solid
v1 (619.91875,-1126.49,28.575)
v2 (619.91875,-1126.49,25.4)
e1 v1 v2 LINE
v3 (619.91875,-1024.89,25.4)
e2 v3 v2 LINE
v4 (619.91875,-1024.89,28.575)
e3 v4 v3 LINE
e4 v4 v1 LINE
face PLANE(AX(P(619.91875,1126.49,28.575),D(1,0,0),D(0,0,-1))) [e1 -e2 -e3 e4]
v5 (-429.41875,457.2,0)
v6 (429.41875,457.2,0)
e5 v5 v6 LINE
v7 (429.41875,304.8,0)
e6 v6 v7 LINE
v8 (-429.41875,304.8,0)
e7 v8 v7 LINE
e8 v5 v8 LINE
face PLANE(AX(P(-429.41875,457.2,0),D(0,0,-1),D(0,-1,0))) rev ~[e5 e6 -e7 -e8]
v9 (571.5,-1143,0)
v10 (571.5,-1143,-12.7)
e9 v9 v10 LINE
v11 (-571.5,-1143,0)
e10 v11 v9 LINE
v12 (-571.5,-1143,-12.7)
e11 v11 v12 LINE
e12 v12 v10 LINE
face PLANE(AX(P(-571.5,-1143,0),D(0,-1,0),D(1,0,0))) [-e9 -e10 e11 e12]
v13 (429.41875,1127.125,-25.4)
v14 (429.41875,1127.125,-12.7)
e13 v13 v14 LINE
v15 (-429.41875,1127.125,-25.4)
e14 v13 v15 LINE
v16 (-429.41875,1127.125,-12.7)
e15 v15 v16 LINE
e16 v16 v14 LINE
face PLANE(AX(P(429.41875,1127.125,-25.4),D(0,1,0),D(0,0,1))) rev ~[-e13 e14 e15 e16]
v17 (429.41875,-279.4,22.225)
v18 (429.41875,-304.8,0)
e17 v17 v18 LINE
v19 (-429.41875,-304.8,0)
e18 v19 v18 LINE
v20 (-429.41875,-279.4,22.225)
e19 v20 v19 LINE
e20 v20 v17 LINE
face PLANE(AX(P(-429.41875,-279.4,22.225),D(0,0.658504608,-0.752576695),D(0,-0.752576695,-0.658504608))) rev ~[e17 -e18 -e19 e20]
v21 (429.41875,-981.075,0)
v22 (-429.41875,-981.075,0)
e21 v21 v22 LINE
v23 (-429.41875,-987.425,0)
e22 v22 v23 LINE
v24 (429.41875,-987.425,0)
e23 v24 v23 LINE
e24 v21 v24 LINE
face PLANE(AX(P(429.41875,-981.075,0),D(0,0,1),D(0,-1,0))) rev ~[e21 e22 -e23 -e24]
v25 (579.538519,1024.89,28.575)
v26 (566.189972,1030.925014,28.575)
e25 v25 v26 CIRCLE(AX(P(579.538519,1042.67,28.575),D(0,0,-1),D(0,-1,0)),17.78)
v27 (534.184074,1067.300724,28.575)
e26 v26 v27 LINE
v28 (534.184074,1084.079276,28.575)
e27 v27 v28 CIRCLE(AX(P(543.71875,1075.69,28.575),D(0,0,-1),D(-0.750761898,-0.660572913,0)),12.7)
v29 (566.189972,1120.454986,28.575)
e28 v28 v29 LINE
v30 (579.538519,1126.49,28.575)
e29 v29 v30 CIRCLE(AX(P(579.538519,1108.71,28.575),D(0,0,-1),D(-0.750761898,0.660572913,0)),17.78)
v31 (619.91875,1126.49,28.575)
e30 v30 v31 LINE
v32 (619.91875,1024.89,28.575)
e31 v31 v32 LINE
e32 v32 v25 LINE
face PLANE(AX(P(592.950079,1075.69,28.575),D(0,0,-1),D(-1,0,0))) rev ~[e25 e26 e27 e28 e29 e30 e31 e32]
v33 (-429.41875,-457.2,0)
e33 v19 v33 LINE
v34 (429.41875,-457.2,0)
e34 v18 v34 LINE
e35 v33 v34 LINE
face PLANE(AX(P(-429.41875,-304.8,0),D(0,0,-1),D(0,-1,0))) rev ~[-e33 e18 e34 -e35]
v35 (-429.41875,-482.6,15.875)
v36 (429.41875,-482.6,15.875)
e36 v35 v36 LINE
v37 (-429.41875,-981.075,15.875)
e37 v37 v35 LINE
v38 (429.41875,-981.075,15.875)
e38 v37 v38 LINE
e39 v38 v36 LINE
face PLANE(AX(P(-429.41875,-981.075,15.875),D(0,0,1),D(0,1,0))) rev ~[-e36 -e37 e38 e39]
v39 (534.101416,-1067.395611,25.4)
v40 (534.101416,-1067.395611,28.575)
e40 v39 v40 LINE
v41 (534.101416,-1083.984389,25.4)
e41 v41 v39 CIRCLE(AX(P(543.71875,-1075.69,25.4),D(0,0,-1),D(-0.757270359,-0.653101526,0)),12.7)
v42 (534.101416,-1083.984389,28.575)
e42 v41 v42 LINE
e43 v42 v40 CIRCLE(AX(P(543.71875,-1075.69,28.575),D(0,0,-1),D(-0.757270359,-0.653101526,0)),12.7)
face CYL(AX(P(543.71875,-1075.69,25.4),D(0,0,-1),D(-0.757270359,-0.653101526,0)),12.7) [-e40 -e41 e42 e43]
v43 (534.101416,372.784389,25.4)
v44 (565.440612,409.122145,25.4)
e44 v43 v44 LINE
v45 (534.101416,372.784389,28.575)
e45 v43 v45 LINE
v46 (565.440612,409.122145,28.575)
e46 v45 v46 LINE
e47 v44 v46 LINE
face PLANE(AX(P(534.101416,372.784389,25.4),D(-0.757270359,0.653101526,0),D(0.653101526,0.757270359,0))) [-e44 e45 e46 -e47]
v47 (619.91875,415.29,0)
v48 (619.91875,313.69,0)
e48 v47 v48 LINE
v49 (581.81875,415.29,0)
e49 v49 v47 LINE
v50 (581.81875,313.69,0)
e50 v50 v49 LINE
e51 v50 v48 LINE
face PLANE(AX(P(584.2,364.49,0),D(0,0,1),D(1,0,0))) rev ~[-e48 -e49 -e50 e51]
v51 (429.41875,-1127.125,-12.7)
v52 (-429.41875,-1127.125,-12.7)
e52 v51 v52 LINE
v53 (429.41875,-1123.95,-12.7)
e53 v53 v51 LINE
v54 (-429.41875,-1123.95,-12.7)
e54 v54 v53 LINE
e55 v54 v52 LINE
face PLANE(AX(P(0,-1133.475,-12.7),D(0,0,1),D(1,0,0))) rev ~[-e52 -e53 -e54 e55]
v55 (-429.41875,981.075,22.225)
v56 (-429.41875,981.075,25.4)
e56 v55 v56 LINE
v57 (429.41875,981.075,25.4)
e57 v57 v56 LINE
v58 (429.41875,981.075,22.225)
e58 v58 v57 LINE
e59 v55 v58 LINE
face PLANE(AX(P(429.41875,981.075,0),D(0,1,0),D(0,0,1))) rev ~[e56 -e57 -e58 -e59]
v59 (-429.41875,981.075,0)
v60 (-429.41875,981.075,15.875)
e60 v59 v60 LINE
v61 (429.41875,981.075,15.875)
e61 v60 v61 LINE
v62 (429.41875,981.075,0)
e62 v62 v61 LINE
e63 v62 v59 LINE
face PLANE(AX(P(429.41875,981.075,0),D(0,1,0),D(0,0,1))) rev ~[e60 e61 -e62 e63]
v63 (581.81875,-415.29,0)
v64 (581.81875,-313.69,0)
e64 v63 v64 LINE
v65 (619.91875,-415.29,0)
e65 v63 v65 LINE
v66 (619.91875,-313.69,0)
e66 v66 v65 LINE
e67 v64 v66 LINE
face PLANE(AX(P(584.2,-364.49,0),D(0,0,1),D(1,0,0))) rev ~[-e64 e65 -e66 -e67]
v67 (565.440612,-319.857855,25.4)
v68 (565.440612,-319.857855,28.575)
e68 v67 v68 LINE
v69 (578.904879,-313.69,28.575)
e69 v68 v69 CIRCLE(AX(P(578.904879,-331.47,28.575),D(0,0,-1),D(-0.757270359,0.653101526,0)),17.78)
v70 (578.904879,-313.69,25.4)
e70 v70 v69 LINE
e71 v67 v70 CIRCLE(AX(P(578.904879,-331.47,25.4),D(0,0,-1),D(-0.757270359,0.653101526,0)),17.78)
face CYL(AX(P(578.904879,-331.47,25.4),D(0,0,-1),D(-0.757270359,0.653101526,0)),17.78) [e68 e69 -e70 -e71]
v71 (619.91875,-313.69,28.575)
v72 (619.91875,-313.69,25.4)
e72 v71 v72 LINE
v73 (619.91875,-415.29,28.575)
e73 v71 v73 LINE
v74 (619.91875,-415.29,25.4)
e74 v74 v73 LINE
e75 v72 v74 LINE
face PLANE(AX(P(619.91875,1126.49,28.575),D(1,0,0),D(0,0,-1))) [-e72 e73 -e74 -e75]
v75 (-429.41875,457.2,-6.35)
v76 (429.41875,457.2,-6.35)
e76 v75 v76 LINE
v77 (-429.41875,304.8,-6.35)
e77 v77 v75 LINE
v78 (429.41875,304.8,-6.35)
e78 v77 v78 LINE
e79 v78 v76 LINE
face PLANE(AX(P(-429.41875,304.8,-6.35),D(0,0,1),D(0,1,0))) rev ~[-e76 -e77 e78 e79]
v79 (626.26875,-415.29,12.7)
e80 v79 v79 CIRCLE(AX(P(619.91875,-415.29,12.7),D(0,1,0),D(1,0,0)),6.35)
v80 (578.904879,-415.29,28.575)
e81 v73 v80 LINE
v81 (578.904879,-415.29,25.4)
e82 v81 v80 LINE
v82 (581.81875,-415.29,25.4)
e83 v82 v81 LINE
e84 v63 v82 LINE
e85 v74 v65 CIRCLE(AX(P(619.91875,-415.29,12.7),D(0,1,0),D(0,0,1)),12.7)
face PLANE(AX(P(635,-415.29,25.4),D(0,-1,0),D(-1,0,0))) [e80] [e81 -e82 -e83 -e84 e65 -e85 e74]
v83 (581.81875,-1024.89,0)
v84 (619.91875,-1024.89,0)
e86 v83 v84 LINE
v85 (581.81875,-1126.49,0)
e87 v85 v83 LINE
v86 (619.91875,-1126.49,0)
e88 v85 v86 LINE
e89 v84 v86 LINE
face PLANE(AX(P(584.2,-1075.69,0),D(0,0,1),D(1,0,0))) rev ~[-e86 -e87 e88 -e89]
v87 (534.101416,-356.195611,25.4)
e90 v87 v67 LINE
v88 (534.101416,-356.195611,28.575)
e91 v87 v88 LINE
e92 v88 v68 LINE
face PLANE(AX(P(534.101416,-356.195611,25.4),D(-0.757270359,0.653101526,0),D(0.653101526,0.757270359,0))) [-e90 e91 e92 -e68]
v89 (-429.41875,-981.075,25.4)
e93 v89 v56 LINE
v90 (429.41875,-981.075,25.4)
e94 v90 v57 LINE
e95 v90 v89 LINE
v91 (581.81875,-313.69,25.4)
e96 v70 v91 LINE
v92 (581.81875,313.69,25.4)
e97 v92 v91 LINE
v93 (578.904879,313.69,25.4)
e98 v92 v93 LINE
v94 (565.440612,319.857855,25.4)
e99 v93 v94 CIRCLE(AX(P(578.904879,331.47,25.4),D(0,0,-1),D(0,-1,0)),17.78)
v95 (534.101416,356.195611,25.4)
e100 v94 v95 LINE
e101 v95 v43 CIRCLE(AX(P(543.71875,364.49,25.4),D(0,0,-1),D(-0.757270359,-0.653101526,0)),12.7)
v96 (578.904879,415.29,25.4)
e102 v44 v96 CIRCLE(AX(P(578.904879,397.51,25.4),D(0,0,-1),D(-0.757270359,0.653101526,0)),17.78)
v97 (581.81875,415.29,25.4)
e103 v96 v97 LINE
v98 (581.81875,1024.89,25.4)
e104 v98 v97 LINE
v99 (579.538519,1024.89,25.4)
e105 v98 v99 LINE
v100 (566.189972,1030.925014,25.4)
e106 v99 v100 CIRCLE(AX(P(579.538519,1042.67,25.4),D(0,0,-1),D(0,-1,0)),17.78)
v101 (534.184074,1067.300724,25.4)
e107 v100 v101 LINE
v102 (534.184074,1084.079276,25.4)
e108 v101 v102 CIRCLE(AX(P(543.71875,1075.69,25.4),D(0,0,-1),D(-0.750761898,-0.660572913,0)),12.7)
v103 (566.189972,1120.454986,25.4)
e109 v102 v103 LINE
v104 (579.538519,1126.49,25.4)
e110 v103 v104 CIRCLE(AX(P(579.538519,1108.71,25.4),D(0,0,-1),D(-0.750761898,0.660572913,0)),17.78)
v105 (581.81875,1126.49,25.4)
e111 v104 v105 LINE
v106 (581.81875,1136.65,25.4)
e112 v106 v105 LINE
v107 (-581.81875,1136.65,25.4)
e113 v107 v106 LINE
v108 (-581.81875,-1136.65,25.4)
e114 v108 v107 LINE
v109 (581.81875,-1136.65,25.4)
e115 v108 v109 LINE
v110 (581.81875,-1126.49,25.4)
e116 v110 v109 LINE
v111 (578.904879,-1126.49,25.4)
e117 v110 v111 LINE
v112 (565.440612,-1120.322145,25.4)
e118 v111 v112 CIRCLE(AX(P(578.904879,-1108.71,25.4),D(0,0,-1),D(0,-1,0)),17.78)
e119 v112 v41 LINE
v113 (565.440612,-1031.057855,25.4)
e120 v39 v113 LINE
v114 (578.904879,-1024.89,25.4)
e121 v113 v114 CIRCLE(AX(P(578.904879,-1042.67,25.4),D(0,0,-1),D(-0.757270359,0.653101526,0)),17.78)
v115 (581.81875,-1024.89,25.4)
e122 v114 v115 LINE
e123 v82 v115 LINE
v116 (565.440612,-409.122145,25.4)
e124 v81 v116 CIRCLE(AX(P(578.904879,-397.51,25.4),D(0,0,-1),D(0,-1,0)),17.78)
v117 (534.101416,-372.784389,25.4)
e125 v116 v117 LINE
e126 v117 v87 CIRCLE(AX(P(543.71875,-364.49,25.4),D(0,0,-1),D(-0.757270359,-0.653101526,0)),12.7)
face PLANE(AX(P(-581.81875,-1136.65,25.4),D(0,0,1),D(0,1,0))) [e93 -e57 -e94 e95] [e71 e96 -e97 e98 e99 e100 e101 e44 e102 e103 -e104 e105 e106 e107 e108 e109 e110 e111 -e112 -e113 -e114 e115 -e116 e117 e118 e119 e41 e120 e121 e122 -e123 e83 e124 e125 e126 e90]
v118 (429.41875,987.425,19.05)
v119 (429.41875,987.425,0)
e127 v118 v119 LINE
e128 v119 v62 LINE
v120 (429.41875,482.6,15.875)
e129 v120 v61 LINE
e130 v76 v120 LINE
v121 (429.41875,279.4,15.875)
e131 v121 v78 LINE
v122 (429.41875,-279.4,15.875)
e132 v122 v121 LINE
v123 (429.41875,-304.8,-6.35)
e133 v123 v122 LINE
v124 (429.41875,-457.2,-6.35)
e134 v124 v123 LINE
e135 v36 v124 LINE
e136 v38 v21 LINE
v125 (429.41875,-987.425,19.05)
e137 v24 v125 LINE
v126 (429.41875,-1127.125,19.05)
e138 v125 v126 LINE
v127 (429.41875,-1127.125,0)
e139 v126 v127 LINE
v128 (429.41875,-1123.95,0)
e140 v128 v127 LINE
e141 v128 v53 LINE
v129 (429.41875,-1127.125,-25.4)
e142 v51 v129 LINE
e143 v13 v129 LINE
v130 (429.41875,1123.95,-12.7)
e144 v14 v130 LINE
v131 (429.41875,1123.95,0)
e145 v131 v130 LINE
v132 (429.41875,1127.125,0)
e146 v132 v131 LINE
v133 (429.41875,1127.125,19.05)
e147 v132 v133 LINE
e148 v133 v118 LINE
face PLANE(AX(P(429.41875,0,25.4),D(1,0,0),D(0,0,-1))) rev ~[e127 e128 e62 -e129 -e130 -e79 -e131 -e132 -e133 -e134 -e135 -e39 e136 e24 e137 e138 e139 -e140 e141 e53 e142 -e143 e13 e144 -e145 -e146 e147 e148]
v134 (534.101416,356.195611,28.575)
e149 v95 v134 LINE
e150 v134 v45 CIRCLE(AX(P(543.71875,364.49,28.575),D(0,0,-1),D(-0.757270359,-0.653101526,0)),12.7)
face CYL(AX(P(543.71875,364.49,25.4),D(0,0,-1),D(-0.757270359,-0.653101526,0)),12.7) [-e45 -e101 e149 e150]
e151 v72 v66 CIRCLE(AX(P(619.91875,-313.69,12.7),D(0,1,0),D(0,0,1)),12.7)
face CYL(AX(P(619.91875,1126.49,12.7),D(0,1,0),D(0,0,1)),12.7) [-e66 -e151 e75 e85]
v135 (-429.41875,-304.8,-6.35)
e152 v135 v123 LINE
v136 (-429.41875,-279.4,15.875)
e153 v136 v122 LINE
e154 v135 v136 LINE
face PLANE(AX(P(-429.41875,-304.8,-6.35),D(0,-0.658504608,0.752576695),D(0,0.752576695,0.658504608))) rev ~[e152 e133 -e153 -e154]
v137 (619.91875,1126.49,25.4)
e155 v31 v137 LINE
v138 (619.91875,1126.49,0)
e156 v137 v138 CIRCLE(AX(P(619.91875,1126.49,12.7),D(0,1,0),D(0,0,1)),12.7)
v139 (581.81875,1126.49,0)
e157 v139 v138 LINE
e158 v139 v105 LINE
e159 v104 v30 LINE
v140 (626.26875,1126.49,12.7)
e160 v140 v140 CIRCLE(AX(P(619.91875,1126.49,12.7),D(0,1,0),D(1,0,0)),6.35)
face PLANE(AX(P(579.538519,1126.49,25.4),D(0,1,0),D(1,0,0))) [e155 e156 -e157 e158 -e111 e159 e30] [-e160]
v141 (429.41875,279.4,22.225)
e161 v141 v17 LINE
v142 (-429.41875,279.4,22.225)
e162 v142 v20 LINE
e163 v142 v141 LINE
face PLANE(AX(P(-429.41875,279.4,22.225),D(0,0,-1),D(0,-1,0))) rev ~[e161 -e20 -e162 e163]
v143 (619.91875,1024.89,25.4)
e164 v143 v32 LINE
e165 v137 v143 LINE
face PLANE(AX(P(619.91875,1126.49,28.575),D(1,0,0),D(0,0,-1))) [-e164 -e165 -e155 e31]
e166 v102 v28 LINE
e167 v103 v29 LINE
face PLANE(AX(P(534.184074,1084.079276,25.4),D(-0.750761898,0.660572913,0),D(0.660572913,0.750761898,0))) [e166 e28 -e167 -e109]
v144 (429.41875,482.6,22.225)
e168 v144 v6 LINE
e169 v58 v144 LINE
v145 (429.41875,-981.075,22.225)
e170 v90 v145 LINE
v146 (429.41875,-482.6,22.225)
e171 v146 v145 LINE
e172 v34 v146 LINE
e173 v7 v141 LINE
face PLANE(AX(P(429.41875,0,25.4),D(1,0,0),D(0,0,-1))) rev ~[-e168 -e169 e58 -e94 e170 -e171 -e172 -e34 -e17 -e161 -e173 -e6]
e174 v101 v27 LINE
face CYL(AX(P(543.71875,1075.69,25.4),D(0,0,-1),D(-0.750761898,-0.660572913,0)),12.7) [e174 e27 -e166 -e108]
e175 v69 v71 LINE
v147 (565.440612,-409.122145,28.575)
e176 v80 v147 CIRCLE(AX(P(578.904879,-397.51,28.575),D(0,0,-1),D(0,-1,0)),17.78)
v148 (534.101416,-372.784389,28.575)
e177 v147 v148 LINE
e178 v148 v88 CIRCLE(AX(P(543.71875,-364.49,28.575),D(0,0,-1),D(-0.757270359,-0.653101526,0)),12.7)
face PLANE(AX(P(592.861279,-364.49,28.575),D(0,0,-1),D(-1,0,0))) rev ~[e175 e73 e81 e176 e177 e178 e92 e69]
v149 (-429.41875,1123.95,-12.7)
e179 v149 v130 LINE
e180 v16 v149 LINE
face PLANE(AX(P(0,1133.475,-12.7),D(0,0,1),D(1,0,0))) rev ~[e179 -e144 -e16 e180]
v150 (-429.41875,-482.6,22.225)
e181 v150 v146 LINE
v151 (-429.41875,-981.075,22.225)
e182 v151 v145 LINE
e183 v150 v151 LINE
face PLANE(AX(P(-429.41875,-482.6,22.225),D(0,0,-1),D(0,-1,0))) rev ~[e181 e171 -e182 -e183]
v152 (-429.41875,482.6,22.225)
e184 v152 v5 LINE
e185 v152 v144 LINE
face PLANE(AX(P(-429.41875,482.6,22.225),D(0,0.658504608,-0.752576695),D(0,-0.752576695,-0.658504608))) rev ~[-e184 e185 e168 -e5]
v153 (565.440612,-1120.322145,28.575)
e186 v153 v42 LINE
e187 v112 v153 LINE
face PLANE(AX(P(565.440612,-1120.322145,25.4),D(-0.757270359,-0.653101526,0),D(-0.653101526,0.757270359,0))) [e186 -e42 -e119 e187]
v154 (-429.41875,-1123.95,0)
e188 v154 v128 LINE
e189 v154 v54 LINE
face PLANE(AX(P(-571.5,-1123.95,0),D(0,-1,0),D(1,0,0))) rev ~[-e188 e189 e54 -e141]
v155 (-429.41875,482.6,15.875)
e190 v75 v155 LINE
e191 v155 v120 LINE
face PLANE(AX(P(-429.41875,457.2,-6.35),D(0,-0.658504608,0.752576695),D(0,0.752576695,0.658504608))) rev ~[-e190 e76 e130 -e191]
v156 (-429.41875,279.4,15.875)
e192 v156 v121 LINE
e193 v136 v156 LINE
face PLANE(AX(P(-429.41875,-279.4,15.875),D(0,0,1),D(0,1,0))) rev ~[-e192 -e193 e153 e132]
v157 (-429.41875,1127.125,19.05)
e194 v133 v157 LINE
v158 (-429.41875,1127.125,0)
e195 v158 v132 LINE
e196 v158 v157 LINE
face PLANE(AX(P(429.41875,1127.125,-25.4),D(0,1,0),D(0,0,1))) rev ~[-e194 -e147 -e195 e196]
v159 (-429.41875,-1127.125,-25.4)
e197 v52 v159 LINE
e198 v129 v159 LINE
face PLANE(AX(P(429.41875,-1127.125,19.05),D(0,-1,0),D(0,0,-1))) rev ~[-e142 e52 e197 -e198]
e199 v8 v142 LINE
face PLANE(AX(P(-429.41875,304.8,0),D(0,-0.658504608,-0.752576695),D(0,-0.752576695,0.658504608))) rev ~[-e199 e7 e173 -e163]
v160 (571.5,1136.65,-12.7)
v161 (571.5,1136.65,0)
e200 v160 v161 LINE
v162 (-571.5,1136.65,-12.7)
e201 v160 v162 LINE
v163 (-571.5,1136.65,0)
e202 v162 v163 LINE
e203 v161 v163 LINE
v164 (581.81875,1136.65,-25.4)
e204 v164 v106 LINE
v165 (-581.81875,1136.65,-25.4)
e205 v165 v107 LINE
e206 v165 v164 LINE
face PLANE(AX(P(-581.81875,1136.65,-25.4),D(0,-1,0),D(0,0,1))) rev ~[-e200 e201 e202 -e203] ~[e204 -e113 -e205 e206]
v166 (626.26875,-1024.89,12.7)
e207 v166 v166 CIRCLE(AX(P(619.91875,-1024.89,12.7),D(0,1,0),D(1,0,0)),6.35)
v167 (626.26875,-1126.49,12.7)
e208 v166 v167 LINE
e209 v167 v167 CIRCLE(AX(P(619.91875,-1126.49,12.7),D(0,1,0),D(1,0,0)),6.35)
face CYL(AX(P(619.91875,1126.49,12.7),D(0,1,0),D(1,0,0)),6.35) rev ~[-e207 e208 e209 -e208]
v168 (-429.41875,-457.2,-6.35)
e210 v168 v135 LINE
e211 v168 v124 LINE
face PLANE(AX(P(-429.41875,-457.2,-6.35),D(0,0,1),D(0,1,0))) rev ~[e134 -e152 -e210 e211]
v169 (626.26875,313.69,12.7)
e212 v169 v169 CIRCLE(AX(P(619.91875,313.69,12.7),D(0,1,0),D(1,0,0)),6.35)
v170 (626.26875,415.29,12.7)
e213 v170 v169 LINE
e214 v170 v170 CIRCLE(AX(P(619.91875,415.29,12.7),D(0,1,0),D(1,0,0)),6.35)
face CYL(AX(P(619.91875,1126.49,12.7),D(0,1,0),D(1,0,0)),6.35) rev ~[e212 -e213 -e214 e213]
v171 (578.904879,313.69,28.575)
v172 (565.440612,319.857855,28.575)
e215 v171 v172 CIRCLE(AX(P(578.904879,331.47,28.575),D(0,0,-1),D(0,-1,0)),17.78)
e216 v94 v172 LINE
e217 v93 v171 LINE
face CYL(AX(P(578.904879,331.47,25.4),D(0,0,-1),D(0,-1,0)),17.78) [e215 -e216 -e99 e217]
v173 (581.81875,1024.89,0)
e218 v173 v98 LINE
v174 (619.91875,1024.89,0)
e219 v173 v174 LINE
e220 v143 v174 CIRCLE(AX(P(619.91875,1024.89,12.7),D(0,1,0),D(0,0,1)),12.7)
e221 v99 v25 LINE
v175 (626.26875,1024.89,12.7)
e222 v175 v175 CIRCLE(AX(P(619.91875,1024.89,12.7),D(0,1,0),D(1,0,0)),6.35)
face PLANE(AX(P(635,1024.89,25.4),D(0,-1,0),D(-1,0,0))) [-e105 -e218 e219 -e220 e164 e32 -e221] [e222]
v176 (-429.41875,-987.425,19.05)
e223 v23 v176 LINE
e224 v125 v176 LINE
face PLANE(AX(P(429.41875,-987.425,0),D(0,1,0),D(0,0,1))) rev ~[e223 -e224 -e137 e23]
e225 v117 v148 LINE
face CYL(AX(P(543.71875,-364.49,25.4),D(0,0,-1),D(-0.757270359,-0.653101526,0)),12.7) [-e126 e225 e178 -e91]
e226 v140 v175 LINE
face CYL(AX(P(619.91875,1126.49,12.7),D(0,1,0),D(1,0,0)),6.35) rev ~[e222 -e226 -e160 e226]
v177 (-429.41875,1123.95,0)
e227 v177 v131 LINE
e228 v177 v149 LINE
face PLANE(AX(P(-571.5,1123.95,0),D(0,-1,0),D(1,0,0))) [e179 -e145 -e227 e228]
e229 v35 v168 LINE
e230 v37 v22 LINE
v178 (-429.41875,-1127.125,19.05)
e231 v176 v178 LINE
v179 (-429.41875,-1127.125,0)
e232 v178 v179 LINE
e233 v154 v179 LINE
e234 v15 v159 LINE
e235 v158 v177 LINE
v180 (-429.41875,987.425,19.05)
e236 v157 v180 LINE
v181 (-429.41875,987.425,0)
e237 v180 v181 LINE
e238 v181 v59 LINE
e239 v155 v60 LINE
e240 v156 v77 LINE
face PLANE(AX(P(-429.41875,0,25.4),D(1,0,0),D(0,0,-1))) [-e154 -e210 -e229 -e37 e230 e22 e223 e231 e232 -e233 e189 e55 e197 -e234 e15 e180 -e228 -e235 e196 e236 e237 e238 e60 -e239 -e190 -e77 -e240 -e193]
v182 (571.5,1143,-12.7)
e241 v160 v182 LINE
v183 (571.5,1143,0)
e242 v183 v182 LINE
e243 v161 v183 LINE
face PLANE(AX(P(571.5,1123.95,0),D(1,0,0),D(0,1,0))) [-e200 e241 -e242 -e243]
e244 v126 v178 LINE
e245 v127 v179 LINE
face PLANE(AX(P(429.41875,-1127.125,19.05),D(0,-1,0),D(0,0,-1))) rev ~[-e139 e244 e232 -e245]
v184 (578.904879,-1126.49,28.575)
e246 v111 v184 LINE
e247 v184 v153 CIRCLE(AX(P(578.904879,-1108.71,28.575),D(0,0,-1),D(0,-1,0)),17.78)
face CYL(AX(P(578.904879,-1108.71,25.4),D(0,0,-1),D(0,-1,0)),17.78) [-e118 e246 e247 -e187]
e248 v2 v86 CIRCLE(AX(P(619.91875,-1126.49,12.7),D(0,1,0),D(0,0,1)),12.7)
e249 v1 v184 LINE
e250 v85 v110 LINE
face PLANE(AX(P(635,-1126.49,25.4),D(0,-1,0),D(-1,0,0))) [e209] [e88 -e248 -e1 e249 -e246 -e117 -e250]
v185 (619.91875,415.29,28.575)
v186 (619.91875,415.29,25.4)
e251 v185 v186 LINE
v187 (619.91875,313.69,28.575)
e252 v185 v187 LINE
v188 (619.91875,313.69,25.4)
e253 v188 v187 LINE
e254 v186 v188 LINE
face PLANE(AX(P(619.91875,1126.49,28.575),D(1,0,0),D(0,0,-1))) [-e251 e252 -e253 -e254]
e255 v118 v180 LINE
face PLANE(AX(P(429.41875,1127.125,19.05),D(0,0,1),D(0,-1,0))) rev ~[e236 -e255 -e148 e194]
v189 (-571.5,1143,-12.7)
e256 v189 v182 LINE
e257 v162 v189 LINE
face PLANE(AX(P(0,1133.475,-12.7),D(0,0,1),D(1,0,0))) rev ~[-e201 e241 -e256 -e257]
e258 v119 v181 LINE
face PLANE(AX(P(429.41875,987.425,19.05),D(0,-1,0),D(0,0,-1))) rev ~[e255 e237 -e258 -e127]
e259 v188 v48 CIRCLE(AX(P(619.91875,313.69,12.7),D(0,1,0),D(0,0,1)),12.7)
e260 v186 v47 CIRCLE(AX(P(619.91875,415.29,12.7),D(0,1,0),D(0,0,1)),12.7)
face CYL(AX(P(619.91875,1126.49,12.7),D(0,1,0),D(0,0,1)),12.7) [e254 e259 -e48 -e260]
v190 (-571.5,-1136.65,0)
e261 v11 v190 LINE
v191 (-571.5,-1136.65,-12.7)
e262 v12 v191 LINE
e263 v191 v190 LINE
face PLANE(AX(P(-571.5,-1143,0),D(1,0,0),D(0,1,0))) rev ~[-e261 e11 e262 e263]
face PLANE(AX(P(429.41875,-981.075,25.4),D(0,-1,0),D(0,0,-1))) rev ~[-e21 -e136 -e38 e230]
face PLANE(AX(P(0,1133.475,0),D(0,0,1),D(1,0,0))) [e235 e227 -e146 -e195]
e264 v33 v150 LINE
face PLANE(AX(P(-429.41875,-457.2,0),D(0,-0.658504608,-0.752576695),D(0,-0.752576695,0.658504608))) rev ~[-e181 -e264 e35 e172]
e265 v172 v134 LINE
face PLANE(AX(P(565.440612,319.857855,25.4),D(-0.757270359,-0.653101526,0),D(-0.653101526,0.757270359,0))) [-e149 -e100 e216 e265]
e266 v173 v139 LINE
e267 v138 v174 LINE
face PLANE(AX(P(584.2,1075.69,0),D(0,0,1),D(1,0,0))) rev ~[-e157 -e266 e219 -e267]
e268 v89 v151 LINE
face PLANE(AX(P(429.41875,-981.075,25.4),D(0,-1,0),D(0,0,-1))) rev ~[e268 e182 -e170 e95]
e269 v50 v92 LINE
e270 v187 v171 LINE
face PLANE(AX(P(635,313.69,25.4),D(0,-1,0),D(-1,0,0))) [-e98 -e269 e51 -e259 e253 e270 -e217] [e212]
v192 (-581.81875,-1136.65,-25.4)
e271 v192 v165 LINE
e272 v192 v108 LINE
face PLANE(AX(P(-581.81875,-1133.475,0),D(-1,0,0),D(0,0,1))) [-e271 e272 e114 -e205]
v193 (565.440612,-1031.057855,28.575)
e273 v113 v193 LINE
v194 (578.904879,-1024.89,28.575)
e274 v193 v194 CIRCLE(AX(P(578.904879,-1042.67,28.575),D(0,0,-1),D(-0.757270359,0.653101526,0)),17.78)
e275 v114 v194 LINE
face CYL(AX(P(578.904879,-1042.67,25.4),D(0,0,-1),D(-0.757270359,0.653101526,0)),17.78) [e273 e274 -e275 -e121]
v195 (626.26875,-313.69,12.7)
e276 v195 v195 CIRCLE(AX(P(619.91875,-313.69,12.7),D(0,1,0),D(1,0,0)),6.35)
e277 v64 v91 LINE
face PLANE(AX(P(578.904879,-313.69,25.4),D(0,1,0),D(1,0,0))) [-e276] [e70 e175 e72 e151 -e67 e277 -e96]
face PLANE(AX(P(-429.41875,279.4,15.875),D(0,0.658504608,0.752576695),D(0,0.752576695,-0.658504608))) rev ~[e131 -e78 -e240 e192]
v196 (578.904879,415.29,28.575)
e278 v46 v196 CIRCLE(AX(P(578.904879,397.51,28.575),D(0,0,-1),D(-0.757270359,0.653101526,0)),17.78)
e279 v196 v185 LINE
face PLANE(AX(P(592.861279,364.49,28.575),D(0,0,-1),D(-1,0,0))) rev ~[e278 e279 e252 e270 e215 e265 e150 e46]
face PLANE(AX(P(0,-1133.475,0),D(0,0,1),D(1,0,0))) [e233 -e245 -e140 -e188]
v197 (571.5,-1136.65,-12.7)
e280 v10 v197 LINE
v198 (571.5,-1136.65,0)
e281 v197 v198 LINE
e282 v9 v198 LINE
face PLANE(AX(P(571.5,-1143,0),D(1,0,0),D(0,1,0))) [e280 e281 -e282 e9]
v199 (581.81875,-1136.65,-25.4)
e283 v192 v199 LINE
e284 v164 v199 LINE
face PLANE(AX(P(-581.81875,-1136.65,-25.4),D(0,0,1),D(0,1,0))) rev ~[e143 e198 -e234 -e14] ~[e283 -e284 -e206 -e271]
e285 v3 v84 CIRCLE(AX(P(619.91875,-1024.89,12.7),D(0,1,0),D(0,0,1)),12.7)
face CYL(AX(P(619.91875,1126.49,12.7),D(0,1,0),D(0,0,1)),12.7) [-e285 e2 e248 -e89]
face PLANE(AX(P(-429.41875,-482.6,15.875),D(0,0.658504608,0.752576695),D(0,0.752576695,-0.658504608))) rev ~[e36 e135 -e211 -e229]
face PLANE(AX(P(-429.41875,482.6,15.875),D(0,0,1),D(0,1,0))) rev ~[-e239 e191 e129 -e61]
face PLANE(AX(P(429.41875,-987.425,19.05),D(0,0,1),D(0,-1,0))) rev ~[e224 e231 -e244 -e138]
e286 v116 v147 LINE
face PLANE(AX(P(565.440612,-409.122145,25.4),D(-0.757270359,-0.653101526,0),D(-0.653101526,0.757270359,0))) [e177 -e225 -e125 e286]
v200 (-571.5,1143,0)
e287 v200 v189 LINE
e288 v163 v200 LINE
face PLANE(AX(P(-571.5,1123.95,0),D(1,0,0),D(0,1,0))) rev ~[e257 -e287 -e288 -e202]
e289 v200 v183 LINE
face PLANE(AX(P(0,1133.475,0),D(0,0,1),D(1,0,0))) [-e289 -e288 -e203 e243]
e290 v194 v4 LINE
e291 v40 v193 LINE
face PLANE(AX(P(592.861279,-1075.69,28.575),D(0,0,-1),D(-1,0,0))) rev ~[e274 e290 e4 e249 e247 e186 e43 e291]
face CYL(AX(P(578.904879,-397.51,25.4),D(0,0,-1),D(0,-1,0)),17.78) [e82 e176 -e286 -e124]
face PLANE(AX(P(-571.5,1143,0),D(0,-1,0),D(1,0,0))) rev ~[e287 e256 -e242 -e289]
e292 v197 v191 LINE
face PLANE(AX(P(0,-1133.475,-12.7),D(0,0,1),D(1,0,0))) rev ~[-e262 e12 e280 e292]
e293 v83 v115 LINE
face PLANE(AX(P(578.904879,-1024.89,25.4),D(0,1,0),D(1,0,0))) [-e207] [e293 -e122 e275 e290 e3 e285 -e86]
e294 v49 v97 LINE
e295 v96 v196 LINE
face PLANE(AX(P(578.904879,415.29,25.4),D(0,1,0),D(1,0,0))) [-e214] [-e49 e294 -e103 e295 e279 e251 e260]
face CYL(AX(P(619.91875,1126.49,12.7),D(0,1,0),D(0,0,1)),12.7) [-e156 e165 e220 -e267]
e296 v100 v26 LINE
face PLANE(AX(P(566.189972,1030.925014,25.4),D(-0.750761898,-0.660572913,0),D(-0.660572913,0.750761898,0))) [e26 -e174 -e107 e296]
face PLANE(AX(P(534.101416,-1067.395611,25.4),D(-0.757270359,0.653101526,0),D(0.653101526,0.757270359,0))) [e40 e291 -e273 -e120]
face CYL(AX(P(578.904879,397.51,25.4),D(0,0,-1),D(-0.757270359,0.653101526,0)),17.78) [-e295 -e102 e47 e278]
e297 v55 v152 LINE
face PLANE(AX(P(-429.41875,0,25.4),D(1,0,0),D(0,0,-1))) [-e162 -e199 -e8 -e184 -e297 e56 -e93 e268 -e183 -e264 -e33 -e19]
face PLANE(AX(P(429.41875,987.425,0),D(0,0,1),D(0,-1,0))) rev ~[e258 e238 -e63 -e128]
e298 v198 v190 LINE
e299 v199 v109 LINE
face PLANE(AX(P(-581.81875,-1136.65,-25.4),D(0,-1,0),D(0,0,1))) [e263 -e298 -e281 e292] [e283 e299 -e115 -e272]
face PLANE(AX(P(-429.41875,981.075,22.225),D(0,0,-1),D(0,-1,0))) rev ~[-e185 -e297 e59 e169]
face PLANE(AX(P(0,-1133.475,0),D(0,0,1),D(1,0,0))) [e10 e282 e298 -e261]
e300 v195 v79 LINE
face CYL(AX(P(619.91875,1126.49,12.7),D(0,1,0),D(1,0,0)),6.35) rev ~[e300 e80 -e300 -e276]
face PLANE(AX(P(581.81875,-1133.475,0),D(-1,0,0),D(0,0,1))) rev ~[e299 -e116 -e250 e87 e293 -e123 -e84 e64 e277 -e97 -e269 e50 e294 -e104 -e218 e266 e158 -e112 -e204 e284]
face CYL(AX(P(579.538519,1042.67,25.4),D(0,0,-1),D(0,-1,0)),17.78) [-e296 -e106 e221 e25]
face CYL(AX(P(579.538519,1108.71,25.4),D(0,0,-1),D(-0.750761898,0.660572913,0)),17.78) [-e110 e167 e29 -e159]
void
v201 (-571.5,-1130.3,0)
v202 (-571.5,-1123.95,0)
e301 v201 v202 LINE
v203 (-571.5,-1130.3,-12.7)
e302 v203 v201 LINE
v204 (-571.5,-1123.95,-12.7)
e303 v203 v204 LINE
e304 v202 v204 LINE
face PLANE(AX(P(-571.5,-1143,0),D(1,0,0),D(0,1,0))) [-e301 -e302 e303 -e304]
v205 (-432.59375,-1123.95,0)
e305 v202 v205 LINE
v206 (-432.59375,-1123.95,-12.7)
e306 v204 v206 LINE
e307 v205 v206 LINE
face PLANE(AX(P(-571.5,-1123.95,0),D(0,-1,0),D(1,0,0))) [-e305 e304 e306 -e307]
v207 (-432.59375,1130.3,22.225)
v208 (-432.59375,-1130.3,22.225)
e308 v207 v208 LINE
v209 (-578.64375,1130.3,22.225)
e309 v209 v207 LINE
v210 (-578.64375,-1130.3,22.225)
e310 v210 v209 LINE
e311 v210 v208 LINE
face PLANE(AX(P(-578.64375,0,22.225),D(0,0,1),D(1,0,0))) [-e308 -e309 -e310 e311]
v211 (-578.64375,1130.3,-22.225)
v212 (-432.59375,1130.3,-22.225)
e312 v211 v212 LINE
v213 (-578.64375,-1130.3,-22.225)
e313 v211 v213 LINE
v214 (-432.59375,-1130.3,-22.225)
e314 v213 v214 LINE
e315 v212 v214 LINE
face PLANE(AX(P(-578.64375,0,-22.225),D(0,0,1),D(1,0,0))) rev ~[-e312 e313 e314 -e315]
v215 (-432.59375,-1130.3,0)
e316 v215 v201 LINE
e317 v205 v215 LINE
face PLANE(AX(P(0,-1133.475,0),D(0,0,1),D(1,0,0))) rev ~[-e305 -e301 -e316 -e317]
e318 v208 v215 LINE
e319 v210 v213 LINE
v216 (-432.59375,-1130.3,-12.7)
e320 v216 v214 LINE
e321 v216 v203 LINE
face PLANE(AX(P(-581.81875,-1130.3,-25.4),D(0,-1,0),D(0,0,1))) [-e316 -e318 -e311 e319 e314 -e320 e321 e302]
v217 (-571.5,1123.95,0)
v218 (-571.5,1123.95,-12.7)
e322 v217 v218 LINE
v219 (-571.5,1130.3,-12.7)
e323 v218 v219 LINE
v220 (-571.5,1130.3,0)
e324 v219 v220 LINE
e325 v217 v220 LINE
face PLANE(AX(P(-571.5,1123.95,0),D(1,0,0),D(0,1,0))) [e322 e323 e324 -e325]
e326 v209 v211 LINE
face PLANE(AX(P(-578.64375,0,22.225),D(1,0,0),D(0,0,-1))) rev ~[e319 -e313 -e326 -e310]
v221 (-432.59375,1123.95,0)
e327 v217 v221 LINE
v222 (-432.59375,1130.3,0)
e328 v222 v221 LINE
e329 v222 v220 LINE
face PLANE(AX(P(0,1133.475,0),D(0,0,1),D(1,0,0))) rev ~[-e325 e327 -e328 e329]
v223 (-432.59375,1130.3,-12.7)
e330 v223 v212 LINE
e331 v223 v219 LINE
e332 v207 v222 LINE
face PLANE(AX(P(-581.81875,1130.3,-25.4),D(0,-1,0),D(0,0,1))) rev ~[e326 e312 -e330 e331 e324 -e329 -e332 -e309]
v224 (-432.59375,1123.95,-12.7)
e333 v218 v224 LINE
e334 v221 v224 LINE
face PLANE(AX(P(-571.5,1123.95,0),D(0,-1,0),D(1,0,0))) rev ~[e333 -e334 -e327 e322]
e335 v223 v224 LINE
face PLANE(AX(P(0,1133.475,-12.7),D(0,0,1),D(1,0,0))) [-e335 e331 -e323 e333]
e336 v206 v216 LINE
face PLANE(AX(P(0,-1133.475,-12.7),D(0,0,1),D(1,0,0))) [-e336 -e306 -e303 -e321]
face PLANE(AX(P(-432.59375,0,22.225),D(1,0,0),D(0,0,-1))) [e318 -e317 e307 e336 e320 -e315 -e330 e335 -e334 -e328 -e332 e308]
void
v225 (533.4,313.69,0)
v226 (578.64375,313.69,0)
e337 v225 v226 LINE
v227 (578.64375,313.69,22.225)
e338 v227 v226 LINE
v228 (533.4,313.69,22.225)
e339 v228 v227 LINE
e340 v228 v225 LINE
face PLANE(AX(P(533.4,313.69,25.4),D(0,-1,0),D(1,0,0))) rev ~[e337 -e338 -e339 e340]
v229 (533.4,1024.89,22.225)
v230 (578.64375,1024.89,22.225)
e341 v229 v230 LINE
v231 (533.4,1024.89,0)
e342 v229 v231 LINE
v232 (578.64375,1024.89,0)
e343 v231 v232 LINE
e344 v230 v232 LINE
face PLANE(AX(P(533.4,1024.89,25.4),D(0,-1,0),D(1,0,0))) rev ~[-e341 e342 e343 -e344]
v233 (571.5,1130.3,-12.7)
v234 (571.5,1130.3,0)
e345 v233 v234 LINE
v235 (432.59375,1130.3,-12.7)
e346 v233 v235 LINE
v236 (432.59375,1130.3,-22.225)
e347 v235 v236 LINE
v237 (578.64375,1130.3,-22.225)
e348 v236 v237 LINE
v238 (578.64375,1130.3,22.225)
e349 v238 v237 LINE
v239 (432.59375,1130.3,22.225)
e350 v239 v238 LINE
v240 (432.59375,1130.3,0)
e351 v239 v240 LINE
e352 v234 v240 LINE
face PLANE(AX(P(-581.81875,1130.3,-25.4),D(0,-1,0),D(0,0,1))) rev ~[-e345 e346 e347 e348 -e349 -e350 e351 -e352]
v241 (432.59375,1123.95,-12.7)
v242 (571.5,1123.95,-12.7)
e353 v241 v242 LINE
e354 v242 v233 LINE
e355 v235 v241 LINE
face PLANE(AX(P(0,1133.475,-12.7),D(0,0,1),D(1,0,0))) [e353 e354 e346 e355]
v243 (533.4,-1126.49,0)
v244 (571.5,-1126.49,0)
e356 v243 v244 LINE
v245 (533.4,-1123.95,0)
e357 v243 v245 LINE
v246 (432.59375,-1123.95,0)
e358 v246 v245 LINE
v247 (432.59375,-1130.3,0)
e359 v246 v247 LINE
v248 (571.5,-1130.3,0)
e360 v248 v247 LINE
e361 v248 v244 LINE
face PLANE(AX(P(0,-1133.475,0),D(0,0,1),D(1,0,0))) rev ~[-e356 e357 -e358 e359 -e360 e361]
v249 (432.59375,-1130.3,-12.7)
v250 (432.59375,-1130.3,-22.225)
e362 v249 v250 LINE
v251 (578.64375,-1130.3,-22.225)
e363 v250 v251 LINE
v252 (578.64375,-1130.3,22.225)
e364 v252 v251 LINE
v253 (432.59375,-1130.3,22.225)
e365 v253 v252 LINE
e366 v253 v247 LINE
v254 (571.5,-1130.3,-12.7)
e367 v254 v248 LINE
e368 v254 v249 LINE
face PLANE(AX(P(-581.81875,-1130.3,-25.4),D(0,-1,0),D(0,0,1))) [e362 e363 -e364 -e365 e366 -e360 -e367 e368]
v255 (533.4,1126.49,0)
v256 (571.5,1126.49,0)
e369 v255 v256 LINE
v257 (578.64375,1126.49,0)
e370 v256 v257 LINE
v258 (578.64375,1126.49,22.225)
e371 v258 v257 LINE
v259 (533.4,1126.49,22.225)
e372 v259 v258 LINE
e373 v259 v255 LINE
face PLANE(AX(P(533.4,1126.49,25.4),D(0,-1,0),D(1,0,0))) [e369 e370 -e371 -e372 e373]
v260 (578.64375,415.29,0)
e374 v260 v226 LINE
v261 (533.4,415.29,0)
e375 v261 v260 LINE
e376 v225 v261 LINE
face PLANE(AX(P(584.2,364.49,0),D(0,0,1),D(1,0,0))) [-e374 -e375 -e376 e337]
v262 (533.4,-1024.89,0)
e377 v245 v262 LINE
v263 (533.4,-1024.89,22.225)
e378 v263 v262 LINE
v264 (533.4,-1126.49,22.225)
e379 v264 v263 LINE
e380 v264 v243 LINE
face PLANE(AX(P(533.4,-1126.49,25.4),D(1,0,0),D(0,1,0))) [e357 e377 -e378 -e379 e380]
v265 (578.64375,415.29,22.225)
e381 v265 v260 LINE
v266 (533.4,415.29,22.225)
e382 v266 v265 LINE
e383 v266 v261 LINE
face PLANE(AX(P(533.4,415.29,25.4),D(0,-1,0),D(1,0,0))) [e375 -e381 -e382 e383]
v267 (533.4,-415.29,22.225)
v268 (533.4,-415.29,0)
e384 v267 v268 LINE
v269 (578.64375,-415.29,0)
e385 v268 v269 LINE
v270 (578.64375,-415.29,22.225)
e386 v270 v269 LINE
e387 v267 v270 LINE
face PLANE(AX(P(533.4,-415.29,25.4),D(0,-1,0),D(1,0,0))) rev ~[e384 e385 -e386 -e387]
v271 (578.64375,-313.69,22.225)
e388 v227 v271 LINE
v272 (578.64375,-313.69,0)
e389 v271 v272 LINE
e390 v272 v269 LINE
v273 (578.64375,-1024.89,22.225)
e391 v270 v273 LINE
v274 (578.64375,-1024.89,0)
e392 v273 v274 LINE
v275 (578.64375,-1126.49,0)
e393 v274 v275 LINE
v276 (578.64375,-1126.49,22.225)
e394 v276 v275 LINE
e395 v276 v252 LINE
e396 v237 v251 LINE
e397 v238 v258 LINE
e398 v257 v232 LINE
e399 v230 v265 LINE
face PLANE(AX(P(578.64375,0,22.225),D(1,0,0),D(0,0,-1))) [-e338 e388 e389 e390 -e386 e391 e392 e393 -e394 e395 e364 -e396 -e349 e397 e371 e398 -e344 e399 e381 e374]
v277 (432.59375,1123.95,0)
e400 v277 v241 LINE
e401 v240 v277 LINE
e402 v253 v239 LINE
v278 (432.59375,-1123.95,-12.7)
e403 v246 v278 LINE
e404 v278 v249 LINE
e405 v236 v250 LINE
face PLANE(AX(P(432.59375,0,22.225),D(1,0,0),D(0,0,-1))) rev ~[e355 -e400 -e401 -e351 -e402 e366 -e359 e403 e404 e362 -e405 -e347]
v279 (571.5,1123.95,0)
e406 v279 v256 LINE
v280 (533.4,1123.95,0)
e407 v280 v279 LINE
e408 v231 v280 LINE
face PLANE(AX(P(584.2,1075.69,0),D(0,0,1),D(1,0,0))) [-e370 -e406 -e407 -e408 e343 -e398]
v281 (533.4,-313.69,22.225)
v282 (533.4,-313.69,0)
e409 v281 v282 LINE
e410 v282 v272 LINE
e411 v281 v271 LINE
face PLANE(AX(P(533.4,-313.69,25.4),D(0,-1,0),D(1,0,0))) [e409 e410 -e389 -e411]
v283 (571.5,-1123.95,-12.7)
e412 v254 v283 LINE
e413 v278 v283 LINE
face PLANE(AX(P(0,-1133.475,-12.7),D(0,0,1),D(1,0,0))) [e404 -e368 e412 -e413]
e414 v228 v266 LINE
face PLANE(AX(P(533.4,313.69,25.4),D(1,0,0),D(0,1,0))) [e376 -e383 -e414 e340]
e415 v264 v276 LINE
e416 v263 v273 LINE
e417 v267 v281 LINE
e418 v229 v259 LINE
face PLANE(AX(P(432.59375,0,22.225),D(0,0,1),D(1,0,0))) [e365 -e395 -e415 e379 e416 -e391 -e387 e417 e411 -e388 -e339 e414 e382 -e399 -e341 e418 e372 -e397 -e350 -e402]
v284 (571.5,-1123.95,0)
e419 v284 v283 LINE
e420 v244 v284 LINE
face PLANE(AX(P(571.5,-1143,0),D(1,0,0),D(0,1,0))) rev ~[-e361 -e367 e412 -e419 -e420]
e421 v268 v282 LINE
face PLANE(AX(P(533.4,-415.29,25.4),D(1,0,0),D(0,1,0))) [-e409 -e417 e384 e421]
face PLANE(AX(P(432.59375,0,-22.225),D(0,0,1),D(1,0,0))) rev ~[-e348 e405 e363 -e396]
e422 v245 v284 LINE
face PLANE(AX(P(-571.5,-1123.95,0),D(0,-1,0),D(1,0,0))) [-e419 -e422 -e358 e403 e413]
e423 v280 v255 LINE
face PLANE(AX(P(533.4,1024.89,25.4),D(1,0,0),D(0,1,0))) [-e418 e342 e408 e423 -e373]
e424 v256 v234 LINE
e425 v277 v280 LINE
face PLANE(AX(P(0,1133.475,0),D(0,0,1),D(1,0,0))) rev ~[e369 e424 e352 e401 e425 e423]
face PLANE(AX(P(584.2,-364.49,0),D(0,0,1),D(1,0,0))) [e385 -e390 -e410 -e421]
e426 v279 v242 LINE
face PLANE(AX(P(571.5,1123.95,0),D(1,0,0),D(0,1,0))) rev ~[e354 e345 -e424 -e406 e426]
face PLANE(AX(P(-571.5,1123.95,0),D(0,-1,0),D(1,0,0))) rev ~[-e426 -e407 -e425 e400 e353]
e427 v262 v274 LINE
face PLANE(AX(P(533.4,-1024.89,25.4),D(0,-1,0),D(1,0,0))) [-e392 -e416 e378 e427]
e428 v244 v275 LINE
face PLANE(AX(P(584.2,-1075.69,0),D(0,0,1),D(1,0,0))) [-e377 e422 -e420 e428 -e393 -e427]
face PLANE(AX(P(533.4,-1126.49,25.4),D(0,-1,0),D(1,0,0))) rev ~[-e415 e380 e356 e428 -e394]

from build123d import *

# Parameters (mm, degrees)
SKETCH2_W             = 152.4
SKETCH2_H             = 50.8
SKETCH2_W_2           = 146.05
SKETCH2_H_2           = 44.45
BOSS_EXTRUDE1_DEPTH   = 1133.475
BOSS_EXTRUDE1_2_DEPTH = 1133.475
BOSS_EXTRUDE4_DEPTH   = 858.8375
SKETCH5_W             = 50.8
SKETCH5_H             = 6.35
BOSS_EXTRUDE5_DEPTH   = 1163.6375
BOSS_EXTRUDE6_DEPTH   = 858.8375
SKETCH7_W             = 101.6
SKETCH7_H             = 101.6
BOSS_EXTRUDE7_DEPTH   = 25.4
SKETCH1_W             = 1143
SKETCH1_H             = 19.05
BOSS_EXTRUDE8_DEPTH   = 12.7
BOSS_EXTRUDE9_DEPTH   = 3.175
SKETCH8_R             = 6.35
CUT_EXTRUDE1_DEPTH    = 2252.98


with BuildPart() as part:
    # Sketch2 → Boss-Extrude1 (new body, symmetric)
    with BuildSketch(Plane(origin=(0, 0, 0), x_dir=(1, 0, 0), z_dir=(0, 1, 0))):
        with Locations((-505.61875, 0)):
            Rectangle(SKETCH2_W, SKETCH2_H)
        with Locations((-505.61875, 0)):
            Rectangle(SKETCH2_W_2, SKETCH2_H_2, mode=Mode.SUBTRACT)
    extrude(amount=BOSS_EXTRUDE1_DEPTH, both=True)



with BuildPart() as body_2:
    # Sketch2 → Boss-Extrude1 2 (new body, symmetric)
    with BuildSketch(Plane(origin=(0, 0, 0), x_dir=(1, 0, 0), z_dir=(0, 1, 0))):
        with Locations((505.61875, 0)):
            Rectangle(SKETCH2_W, SKETCH2_H)
        with Locations((505.61875, 0)):
            Rectangle(SKETCH2_W_2, SKETCH2_H_2, mode=Mode.SUBTRACT)
    extrude(amount=BOSS_EXTRUDE1_2_DEPTH, both=True)


with BuildPart() as part_1:
    add(part.part)

    add(body_2.part)  # Boss-Extrude4 merges body 2
    # Sketch3 → Boss-Extrude4 (add)
    with BuildSketch(Plane.ZY.offset(-429.41875)):
        Polygon((19.05, 987.425), (0, 987.425), (0, 981.075), (25.4, 981.075), (25.4, 1133.475), (-25.4, 1133.475), (-25.4, 1127.125), (19.05, 1127.125), align=None)
        Polygon((-25.4, -1133.475), (25.4, -1133.475), (25.4, -981.075), (0, -981.075), (0, -987.425), (19.05, -987.425), (19.05, -1127.125), (-25.4, -1127.125), align=None)
    extrude(amount=BOSS_EXTRUDE4_DEPTH)

    # Sketch5 → Boss-Extrude5 (add)
    with BuildSketch(Plane.ZY.offset(581.81875)):
        with Locations((0, -1133.475)):
            Rectangle(SKETCH5_W, SKETCH5_H)
        with Locations((0, 1133.475)):
            Rectangle(SKETCH5_W, SKETCH5_H)
    extrude(amount=-BOSS_EXTRUDE5_DEPTH)

    # Sketch6 → Boss-Extrude6 (add)
    with BuildSketch(Plane(origin=(-429.41875, 0, 0), x_dir=(0, 0, -1), z_dir=(1, 0, 0))):
        Polygon((-15.875, -981.075), (-15.875, -482.6), (6.35, -457.2), (6.35, -304.8), (-15.875, -279.4), (-15.875, 279.4), (6.35, 304.8), (6.35, 457.2), (-15.875, 482.6), (-15.875, 981.075), (-22.225, 981.075), (-22.225, 482.6), (0, 457.2), (0, 304.8), (-22.225, 279.4), (-22.225, -279.4), (0, -304.8), (0, -457.2), (-22.225, -482.6), (-22.225, -981.075), align=None)
    extrude(amount=BOSS_EXTRUDE6_DEPTH)

    # Sketch7 → Boss-Extrude7 (add)
    with BuildSketch(Plane.XY.offset(25.4)):
        with Locations((584.2, 1075.69)):
            Rectangle(SKETCH7_W, SKETCH7_H)
        with Locations((584.2, 364.49)):
            Rectangle(SKETCH7_W, SKETCH7_H)
        with Locations((584.2, -364.49)):
            Rectangle(SKETCH7_W, SKETCH7_H)
        with Locations((584.2, -1075.69)):
            Rectangle(SKETCH7_W, SKETCH7_H)
    extrude(amount=-BOSS_EXTRUDE7_DEPTH)

    # Sketch1 → Boss-Extrude8 (add)
    with BuildSketch(Plane.XY):
        with Locations((0, -1133.475)):
            Rectangle(SKETCH1_W, SKETCH1_H)
        with Locations((0, 1133.475)):
            Rectangle(SKETCH1_W, SKETCH1_H)
    extrude(amount=-BOSS_EXTRUDE8_DEPTH)

    # Sketch9 → Boss-Extrude9 (add)
    with BuildSketch(Plane.XY.offset(25.4)):
        with BuildLine():
            Line((635, 1126.49), (635, 1024.89))
            Line((635, 1024.89), (579.538518777, 1024.89))
            ThreePointArc((579.538518777, 1024.89), (572.213815984, 1026.468854084), (566.189972237, 1030.925013611))
            Line((566.189972237, 1030.925013611), (534.1840739, 1067.300724008))
            ThreePointArc((534.1840739, 1067.300724008), (531.01875, 1075.69), (534.1840739, 1084.079275992))
            Line((534.1840739, 1084.079275992), (566.189972237, 1120.454986389))
            ThreePointArc((566.189972237, 1120.454986389), (572.213815984, 1124.911145916), (579.538518777, 1126.49))
            Line((579.538518777, 1126.49), (635, 1126.49))
        make_face()
        with BuildLine():
            Line((635, 415.29), (635, 313.69))
            Line((635, 313.69), (578.904878784, 313.69))
            ThreePointArc((578.904878784, 313.69), (571.5, 315.30534194), (565.440611797, 319.857854871))
            Line((565.440611797, 319.857854871), (534.101416438, 356.195610622))
            ThreePointArc((534.101416438, 356.195610622), (531.01875, 364.49), (534.101416438, 372.784389378))
            Line((534.101416438, 372.784389378), (565.440611797, 409.122145129))
            ThreePointArc((565.440611797, 409.122145129), (571.5, 413.67465806), (578.904878784, 415.29))
            Line((578.904878784, 415.29), (635, 415.29))
        make_face()
        with BuildLine():
            Line((635, -313.69), (635, -415.29))
            Line((635, -415.29), (578.904878784, -415.29))
            ThreePointArc((578.904878784, -415.29), (571.5, -413.67465806), (565.440611797, -409.122145129))
            Line((565.440611797, -409.122145129), (534.101416438, -372.784389378))
            ThreePointArc((534.101416438, -372.784389378), (531.01875, -364.49), (534.101416438, -356.195610622))
            Line((534.101416438, -356.195610622), (565.440611797, -319.857854871))
            ThreePointArc((565.440611797, -319.857854871), (571.5, -315.30534194), (578.904878784, -313.69))
            Line((578.904878784, -313.69), (635, -313.69))
        make_face()
        with BuildLine():
            Line((635, -1024.89), (635, -1126.49))
            Line((635, -1126.49), (578.904878784, -1126.49))
            ThreePointArc((578.904878784, -1126.49), (571.5, -1124.87465806), (565.440611797, -1120.322145129))
            Line((565.440611797, -1120.322145129), (534.101416438, -1083.984389378))
            ThreePointArc((534.101416438, -1083.984389378), (531.01875, -1075.69), (534.101416438, -1067.395610622))
            Line((534.101416438, -1067.395610622), (565.440611797, -1031.057854871))
            ThreePointArc((565.440611797, -1031.057854871), (571.5, -1026.50534194), (578.904878784, -1024.89))
            Line((578.904878784, -1024.89), (635, -1024.89))
        make_face()
    extrude(amount=BOSS_EXTRUDE9_DEPTH)

    # Sketch8 → Cut-Extrude1 (cut)
    with BuildSketch(Plane(origin=(0, 1126.49, 0), x_dir=(1, 0, 0), z_dir=(0, 1, 0))):
        with Locations((619.91875, -12.7)):
            Circle(SKETCH8_R)
        with BuildLine():
            Line((619.91875, 0), (635, 0))
            Line((635, 0), (635, -28.575))
            Line((635, -28.575), (619.91875, -28.575))
            Line((619.91875, -28.575), (619.91875, -25.4))
            ThreePointArc((619.91875, -25.4), (632.61875, -12.7), (619.91875, 0))
        make_face()
    extrude(amount=-CUT_EXTRUDE1_DEPTH, mode=Mode.SUBTRACT)


solid = part_1.part
